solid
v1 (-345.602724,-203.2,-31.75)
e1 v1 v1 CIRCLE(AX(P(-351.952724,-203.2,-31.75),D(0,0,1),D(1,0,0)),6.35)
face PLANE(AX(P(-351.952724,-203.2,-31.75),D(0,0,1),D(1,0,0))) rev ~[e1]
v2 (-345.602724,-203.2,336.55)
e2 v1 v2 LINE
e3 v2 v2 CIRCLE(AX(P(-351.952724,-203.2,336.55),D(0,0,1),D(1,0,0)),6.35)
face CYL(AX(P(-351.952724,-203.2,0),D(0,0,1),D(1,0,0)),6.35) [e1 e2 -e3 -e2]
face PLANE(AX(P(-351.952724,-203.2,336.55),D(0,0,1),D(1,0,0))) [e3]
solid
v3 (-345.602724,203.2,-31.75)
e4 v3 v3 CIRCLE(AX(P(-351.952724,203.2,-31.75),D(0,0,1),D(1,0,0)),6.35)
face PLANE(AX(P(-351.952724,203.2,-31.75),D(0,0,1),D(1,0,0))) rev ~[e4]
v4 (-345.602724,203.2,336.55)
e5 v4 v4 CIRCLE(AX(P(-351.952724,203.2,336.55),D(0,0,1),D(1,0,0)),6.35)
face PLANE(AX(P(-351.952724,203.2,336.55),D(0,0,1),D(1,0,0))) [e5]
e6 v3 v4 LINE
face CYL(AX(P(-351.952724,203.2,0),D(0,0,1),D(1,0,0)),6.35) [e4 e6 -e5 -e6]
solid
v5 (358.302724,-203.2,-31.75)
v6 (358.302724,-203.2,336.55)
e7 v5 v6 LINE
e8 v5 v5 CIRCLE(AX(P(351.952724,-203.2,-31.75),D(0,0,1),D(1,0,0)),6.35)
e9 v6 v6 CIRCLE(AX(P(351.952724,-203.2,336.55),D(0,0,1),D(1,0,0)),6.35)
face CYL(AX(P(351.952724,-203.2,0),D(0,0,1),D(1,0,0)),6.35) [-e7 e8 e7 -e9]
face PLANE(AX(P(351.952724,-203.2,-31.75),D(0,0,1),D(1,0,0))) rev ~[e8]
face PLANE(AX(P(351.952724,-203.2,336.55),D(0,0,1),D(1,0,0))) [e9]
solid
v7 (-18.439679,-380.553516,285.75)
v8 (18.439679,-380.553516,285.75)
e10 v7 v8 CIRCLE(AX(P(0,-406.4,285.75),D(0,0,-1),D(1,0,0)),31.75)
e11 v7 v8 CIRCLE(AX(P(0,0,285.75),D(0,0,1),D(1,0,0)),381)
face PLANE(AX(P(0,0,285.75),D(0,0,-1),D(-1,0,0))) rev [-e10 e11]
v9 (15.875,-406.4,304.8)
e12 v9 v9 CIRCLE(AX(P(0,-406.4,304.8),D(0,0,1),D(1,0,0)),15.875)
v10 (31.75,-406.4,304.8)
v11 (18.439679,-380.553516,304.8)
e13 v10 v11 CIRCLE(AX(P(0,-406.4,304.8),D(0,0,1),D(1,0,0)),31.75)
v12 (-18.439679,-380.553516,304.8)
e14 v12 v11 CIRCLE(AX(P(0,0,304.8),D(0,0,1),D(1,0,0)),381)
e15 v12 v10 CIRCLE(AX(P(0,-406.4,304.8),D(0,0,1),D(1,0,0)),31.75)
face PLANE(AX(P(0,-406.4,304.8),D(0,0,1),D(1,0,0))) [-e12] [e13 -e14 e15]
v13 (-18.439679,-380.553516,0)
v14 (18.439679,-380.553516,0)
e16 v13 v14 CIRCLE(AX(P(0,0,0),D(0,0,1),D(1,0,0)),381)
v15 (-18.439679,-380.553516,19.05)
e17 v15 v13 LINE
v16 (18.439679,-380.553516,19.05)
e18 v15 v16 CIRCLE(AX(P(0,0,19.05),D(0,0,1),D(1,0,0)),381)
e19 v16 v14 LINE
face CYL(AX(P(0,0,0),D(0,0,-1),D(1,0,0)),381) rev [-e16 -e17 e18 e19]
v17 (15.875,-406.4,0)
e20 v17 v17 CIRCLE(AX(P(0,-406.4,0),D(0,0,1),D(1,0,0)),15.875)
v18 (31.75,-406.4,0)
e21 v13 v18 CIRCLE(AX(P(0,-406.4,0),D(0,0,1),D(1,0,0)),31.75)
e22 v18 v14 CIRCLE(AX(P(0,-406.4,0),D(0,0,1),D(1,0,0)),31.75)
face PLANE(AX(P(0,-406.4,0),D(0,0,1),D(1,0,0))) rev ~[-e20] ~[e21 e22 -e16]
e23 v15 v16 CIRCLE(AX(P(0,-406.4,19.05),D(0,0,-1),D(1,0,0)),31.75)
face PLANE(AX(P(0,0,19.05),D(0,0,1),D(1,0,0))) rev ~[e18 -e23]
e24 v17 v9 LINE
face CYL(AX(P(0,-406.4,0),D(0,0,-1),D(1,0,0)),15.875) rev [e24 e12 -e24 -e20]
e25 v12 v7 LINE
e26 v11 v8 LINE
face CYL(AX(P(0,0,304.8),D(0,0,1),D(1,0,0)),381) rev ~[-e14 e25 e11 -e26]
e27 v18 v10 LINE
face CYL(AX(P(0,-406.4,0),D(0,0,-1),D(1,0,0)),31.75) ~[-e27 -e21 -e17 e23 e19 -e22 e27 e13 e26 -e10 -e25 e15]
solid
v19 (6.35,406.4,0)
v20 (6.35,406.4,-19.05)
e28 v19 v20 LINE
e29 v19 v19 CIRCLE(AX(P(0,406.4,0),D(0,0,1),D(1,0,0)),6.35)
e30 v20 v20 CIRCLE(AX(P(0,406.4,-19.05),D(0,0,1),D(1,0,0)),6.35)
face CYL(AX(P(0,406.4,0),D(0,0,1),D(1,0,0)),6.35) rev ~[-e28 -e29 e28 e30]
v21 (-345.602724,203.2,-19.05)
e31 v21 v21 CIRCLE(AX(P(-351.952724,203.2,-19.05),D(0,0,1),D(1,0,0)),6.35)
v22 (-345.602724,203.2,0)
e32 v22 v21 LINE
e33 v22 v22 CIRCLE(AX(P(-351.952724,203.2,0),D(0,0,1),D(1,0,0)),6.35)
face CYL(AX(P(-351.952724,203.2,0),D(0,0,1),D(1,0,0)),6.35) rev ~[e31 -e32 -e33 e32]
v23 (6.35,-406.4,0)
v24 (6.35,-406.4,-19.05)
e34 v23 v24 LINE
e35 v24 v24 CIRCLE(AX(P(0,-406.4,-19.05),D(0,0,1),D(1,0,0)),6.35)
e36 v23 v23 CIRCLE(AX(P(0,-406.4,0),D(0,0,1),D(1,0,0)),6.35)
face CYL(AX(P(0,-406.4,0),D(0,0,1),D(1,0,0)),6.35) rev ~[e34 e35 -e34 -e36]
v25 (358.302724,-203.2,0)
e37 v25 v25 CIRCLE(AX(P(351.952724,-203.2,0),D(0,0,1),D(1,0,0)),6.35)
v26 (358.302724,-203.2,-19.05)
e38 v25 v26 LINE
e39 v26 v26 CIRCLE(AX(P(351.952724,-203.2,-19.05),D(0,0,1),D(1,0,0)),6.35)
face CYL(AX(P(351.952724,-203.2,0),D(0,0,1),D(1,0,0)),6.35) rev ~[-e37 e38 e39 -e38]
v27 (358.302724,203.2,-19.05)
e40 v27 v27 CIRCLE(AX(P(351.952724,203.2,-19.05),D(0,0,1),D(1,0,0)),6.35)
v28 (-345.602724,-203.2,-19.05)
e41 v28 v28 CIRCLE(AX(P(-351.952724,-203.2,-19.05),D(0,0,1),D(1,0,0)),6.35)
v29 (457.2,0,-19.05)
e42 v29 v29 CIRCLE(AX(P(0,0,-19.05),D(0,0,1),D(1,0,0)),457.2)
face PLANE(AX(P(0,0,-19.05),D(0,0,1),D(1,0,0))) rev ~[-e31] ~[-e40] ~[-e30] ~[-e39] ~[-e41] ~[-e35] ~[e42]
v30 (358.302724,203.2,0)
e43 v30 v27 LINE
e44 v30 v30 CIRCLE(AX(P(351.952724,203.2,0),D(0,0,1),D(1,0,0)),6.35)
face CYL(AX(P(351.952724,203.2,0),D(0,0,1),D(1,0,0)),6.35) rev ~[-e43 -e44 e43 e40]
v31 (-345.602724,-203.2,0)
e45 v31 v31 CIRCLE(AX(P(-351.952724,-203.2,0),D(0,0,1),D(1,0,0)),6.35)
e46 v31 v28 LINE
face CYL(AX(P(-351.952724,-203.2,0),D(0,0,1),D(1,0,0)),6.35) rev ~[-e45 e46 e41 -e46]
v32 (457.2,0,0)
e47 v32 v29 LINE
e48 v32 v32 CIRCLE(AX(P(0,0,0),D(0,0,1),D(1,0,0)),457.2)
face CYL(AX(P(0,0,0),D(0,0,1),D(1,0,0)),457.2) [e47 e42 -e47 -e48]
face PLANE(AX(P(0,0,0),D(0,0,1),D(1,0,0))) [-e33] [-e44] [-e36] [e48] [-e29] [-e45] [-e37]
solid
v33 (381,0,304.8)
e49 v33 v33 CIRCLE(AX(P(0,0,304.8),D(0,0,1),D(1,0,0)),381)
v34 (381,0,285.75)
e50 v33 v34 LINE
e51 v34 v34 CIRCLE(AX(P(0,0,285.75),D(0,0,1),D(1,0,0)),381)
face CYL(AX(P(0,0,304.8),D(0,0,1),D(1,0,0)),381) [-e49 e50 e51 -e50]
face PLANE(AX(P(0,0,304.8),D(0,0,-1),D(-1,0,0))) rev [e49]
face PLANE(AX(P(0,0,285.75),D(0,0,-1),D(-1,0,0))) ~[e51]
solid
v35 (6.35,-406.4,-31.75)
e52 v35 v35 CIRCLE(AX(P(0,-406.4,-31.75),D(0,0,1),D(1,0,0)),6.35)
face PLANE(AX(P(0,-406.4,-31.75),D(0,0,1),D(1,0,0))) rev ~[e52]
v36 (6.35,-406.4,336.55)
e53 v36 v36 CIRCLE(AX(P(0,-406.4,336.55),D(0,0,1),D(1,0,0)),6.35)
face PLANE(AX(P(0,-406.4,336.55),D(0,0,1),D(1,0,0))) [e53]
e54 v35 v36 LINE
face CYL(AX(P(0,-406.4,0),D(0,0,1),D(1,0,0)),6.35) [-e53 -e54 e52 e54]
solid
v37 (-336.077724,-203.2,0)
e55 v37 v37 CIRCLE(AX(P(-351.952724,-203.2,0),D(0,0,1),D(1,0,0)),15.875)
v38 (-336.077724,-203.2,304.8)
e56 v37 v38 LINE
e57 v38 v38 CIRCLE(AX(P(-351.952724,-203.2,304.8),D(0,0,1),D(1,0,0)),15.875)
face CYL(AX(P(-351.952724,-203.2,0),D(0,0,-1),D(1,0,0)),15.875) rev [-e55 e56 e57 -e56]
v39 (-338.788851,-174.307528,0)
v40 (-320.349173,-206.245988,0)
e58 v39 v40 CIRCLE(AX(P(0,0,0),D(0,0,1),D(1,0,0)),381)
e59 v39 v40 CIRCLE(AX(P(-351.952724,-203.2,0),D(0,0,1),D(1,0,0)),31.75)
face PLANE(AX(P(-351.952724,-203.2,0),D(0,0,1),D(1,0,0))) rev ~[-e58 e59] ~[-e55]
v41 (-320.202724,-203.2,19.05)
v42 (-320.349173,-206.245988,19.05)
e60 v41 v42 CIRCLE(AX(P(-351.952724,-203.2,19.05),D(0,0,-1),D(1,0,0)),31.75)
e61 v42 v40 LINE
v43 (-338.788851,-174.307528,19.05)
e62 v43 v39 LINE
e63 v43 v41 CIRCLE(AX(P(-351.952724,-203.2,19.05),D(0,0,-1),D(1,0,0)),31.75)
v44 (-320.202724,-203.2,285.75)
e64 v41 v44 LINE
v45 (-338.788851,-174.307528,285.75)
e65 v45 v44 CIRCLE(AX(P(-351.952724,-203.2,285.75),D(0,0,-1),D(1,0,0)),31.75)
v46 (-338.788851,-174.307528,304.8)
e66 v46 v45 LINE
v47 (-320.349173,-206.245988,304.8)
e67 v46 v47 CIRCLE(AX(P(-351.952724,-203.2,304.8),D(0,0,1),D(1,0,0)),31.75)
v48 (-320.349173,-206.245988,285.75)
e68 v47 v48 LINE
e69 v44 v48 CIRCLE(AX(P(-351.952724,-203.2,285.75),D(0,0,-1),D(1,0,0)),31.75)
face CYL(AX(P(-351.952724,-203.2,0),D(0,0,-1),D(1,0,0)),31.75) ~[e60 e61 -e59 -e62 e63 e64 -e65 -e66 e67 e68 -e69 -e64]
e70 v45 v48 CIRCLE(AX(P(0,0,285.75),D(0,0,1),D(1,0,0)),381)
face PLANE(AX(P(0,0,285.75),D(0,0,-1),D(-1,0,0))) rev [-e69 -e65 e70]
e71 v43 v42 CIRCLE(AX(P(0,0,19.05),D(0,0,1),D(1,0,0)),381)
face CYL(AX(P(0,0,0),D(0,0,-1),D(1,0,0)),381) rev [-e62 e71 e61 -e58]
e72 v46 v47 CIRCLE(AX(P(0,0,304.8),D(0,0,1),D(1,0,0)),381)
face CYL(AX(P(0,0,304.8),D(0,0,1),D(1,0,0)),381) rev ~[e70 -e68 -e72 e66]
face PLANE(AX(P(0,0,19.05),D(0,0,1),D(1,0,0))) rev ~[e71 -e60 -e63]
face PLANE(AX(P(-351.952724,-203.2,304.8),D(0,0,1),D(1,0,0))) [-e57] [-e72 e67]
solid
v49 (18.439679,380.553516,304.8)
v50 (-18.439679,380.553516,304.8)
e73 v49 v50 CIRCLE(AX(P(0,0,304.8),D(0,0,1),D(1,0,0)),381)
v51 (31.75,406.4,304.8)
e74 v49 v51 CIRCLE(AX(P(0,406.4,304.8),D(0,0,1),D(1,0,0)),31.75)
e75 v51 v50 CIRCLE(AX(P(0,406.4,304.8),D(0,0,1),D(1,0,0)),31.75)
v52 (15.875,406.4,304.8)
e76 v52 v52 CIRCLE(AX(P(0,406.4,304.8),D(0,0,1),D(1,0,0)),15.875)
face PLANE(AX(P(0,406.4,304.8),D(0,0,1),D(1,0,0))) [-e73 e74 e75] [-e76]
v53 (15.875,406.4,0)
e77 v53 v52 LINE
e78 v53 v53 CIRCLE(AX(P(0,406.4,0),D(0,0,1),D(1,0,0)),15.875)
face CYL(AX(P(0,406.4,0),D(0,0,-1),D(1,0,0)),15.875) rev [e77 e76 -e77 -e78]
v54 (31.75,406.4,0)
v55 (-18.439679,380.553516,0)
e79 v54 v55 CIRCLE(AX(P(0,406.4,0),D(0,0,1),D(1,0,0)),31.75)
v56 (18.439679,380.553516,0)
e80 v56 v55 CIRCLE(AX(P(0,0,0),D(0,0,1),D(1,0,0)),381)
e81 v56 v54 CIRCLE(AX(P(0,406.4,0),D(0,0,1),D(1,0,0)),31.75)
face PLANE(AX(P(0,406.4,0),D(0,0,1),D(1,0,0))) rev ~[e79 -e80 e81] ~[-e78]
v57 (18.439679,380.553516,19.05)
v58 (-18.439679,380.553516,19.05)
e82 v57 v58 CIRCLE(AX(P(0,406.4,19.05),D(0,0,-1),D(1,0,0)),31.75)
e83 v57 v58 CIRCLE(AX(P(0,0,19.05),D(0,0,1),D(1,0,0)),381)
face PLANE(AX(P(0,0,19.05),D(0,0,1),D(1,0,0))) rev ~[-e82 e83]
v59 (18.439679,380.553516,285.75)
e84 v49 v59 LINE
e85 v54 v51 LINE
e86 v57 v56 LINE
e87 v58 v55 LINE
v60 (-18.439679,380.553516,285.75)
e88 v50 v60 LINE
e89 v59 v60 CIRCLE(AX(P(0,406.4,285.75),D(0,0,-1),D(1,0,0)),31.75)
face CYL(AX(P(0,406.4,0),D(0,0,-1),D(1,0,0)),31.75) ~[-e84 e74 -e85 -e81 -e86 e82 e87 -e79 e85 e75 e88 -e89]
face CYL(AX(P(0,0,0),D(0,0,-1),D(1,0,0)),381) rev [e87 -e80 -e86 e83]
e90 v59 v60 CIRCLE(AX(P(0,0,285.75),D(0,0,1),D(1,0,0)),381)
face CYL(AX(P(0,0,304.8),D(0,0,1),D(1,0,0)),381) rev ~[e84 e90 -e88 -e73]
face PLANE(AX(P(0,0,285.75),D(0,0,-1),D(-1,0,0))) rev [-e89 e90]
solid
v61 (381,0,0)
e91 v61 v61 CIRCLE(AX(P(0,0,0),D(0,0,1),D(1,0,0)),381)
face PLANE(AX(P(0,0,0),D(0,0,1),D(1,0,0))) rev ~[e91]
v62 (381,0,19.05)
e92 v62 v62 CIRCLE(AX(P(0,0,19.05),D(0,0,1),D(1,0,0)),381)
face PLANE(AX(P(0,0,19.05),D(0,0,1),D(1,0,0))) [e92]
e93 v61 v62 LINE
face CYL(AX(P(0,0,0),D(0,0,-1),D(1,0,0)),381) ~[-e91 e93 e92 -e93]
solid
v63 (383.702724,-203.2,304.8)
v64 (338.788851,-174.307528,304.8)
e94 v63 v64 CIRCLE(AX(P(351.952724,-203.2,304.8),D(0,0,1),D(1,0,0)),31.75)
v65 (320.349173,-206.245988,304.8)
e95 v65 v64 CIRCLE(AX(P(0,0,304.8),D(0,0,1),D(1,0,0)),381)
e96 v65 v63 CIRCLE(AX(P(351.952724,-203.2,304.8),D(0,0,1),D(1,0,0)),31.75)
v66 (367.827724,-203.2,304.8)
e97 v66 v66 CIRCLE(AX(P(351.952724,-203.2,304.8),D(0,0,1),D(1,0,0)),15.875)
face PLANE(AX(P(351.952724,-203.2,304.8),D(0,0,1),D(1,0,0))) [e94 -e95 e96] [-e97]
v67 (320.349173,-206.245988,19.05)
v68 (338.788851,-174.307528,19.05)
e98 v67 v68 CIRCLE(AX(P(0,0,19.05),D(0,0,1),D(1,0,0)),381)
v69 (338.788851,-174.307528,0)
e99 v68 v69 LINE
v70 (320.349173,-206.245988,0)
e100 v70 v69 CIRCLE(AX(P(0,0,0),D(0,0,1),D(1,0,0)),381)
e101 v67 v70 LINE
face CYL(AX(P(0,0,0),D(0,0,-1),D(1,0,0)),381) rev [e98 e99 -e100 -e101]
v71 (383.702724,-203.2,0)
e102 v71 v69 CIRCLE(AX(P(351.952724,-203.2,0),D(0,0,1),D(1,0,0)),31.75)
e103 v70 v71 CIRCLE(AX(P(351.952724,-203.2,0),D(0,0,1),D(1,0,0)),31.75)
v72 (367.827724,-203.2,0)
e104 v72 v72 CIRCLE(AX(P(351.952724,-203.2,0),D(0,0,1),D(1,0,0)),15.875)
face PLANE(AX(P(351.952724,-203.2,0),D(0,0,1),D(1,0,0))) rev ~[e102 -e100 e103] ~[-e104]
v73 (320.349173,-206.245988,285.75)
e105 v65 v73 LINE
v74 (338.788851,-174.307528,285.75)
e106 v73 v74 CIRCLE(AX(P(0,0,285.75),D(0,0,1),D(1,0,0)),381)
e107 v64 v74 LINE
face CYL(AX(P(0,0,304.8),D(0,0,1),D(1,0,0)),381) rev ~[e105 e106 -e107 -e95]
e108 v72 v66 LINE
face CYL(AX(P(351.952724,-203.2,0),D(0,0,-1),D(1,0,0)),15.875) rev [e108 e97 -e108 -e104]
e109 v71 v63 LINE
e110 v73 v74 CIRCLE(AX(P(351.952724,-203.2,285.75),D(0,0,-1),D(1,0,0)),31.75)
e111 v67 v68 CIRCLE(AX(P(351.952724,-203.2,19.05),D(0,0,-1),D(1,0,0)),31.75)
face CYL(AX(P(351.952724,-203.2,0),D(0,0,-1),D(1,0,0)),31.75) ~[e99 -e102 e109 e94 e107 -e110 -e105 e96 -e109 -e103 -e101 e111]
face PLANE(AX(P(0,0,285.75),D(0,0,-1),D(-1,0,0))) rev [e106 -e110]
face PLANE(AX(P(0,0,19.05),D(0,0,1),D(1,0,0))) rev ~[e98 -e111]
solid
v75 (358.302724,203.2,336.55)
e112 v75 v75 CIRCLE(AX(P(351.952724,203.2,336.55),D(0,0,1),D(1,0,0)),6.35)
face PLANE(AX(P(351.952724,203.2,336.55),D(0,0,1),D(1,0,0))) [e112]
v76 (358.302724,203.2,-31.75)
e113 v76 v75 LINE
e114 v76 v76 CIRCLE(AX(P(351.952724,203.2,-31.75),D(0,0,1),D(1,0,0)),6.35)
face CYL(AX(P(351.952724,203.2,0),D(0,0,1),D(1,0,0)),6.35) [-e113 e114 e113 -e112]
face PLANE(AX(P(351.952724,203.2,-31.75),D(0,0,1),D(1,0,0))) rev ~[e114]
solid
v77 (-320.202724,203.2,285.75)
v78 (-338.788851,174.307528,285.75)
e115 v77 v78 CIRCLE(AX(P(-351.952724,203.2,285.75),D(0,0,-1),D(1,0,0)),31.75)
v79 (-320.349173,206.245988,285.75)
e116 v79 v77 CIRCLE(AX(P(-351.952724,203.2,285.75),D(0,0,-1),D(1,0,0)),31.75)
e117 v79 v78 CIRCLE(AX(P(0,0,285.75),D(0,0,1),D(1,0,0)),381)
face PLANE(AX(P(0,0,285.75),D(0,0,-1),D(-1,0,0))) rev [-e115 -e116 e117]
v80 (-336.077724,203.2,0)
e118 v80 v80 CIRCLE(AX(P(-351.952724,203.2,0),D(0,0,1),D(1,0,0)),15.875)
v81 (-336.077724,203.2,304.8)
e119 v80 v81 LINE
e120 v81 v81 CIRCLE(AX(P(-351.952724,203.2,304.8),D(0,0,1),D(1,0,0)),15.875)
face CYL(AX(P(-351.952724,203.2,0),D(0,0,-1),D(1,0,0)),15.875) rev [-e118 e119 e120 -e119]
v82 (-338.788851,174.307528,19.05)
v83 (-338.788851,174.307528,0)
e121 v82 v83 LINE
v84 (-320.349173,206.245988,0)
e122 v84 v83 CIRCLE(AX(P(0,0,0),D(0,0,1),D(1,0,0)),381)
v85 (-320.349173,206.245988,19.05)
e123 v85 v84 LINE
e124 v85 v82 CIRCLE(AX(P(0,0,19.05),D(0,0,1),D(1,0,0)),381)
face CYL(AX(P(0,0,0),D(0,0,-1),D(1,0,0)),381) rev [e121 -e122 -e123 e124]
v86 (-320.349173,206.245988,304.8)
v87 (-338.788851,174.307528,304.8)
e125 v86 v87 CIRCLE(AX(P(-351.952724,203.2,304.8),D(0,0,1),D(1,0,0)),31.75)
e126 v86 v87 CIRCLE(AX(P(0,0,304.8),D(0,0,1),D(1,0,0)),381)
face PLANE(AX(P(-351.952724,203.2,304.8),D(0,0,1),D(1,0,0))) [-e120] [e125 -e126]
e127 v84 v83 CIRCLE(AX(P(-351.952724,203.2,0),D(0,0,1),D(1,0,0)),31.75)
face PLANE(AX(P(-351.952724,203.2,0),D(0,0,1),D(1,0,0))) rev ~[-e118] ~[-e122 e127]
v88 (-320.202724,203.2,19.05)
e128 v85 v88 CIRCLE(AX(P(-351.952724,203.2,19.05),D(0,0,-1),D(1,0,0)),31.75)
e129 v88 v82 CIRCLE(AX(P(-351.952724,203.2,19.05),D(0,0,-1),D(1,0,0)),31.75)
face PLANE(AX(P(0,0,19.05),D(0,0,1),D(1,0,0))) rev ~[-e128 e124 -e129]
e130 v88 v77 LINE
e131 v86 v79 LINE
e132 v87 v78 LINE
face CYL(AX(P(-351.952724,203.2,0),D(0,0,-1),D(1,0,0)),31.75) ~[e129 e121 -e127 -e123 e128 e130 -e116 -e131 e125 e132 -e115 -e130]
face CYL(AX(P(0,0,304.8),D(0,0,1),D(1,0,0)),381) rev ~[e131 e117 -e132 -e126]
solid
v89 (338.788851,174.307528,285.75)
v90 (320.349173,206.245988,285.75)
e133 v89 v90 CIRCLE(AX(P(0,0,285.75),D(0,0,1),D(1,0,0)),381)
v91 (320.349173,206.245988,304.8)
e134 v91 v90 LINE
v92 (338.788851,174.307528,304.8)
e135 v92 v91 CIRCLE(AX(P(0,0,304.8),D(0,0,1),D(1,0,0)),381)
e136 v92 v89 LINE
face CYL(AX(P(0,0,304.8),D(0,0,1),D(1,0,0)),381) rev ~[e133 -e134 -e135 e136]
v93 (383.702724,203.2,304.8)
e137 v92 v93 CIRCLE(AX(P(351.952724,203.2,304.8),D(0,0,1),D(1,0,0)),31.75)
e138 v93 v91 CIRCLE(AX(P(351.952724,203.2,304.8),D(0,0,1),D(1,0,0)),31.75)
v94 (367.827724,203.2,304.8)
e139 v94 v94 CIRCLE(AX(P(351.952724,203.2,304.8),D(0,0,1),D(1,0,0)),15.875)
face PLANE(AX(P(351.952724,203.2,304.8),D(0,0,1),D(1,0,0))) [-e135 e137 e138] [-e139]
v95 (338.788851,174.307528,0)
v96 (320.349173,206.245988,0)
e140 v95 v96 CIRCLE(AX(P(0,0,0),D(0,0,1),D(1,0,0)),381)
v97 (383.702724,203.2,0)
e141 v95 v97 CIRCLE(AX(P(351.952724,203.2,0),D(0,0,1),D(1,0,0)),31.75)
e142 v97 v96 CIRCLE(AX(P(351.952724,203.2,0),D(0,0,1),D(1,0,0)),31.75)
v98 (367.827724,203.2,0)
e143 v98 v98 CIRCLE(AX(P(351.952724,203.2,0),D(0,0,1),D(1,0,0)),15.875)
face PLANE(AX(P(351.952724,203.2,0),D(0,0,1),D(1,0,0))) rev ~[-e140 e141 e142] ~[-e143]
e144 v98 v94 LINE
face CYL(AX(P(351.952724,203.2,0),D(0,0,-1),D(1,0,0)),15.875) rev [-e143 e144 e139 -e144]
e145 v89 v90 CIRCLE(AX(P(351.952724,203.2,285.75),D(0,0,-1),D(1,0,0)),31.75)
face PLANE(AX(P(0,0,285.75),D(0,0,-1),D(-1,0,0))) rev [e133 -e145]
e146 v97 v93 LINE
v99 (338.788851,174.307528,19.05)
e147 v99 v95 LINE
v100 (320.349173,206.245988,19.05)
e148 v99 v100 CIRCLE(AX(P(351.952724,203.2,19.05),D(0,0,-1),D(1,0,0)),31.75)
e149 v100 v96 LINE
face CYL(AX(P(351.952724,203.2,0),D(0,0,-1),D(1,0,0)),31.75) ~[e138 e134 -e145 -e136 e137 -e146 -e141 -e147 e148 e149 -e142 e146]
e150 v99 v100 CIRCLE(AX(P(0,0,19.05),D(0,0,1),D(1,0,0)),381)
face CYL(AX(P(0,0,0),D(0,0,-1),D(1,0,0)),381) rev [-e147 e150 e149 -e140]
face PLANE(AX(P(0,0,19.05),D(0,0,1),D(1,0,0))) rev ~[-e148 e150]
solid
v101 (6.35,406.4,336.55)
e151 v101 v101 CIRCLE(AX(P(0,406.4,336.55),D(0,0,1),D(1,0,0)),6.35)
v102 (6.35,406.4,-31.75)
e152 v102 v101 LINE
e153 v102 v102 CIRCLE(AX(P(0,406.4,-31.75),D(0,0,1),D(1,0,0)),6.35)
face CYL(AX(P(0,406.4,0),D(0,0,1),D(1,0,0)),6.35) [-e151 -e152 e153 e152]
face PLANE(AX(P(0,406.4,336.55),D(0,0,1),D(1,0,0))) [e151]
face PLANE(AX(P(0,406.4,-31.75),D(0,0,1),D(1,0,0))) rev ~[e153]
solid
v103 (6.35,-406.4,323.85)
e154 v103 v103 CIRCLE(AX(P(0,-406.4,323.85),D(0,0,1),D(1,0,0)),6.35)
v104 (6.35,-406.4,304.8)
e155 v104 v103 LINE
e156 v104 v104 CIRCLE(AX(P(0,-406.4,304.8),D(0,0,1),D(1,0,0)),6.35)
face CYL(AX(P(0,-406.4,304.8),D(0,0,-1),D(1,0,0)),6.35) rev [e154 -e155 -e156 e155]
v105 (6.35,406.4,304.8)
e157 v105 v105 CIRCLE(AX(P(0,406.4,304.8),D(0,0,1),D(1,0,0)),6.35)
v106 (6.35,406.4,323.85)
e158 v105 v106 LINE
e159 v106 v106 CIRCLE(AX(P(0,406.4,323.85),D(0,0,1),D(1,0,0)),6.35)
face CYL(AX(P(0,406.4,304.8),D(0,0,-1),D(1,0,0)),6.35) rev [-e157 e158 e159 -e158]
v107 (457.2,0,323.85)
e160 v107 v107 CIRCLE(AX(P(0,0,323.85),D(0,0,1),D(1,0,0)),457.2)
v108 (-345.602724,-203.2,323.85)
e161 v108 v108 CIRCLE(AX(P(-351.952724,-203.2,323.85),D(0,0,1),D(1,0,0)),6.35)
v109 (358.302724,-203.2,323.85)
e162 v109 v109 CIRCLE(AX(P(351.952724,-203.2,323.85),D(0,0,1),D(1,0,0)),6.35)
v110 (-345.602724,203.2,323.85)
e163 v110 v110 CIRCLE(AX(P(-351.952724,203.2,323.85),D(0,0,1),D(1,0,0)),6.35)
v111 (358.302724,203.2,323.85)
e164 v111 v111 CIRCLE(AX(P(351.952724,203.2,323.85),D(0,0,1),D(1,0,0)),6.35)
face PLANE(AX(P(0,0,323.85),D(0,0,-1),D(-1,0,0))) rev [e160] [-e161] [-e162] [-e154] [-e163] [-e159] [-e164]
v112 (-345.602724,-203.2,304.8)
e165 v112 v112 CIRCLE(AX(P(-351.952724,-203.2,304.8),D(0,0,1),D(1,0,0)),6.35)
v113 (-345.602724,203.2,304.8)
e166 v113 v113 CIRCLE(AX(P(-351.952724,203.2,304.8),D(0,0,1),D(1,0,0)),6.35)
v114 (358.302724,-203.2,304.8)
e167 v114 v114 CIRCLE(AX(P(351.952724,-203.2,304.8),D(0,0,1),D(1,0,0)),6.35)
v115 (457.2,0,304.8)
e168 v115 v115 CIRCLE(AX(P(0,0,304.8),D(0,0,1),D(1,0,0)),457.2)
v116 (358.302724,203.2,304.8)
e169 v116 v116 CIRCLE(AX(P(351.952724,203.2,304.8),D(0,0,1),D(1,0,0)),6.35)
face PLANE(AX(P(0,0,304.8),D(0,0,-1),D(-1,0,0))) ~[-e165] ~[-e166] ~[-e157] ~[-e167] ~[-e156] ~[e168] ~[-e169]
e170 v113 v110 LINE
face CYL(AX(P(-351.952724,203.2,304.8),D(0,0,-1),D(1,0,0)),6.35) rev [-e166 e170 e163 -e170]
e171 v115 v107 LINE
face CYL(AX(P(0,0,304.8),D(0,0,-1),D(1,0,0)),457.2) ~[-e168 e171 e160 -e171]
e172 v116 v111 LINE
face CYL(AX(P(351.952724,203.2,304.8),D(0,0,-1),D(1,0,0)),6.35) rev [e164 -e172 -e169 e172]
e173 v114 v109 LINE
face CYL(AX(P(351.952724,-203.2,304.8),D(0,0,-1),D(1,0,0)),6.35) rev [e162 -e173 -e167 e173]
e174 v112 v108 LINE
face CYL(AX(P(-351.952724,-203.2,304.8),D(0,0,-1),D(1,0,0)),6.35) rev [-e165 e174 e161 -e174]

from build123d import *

# Parameters (mm, degrees)
F2_R           = 457.2
F2_R_2         = 31.75
F2_R_3         = 15.875
F2_R_4         = 6.35
F3_DEPTH       = 19.05
F4_DEPTH       = 304.8
F5_R           = 381
F6_DEPTH       = 19.05
F10_DEPTH      = 336.55
F10_DEPTH_BACK = 31.75


with BuildPart() as f3:
    # F2 (on Top) → F3 (new body)
    with BuildSketch(Plane.XY):
        Circle(F2_R)
        with Locations((-351.952724098, -203.2)):
            Circle(F2_R_2, mode=Mode.SUBTRACT)
        with Locations((0, -406.4)):
            Circle(F2_R_2, mode=Mode.SUBTRACT)
        with Locations((351.952724098, -203.2)):
            Circle(F2_R_2, mode=Mode.SUBTRACT)
        with Locations((-351.952724098, 203.2)):
            Circle(F2_R_2, mode=Mode.SUBTRACT)
        with Locations((351.952724098, 203.2)):
            Circle(F2_R_2, mode=Mode.SUBTRACT)
        with Locations((0, 406.4)):
            Circle(F2_R_2, mode=Mode.SUBTRACT)
        with Locations((351.952724098, 203.2)):
            Circle(F2_R_2)
        with Locations((351.952724098, 203.2)):
            Circle(F2_R_3, mode=Mode.SUBTRACT)
        with Locations((351.952724098, 203.2)):
            Circle(F2_R_3)
        with Locations((351.952724098, 203.2)):
            Circle(F2_R_4, mode=Mode.SUBTRACT)
        with Locations((351.952724098, -203.2)):
            Circle(F2_R_2)
        with Locations((351.952724098, -203.2)):
            Circle(F2_R_3, mode=Mode.SUBTRACT)
        with Locations((351.952724098, -203.2)):
            Circle(F2_R_3)
        with Locations((351.952724098, -203.2)):
            Circle(F2_R_4, mode=Mode.SUBTRACT)
        with Locations((0, 406.4)):
            Circle(F2_R_2)
        with Locations((0, 406.4)):
            Circle(F2_R_3, mode=Mode.SUBTRACT)
        with Locations((0, 406.4)):
            Circle(F2_R_3)
        with Locations((0, 406.4)):
            Circle(F2_R_4, mode=Mode.SUBTRACT)
        with Locations((-351.952724098, 203.2)):
            Circle(F2_R_2)
        with Locations((-351.952724098, 203.2)):
            Circle(F2_R_3, mode=Mode.SUBTRACT)
        with Locations((-351.952724098, 203.2)):
            Circle(F2_R_3)
        with Locations((-351.952724098, 203.2)):
            Circle(F2_R_4, mode=Mode.SUBTRACT)
        with Locations((-351.952724098, -203.2)):
            Circle(F2_R_2)
        with Locations((-351.952724098, -203.2)):
            Circle(F2_R_3, mode=Mode.SUBTRACT)
        with Locations((-351.952724098, -203.2)):
            Circle(F2_R_3)
        with Locations((-351.952724098, -203.2)):
            Circle(F2_R_4, mode=Mode.SUBTRACT)
        with Locations((0, -406.4)):
            Circle(F2_R_2)
        with Locations((0, -406.4)):
            Circle(F2_R_3, mode=Mode.SUBTRACT)
        with Locations((0, -406.4)):
            Circle(F2_R_3)
        with Locations((0, -406.4)):
            Circle(F2_R_4, mode=Mode.SUBTRACT)
    extrude(amount=-F3_DEPTH)


with BuildPart() as f4:
    # F2 (on Top) → F4 (new body)
    with BuildSketch(Plane.XY):
        with Locations((351.952724098, -203.2)):
            Circle(F2_R_2)
        with Locations((351.952724098, -203.2)):
            Circle(F2_R_3, mode=Mode.SUBTRACT)
    extrude(amount=F4_DEPTH)


with BuildPart() as f4b:
    # F2 (on Top) → F4, piece 2 (new body)
    with BuildSketch(Plane.XY):
        with Locations((0, -406.4)):
            Circle(F2_R_2)
        with Locations((0, -406.4)):
            Circle(F2_R_3, mode=Mode.SUBTRACT)
    extrude(amount=F4_DEPTH)


with BuildPart() as f4c:
    # F2 (on Top) → F4, piece 3 (new body)
    with BuildSketch(Plane.XY):
        with Locations((-351.952724098, -203.2)):
            Circle(F2_R_2)
        with Locations((-351.952724098, -203.2)):
            Circle(F2_R_3, mode=Mode.SUBTRACT)
    extrude(amount=F4_DEPTH)


with BuildPart() as f4d:
    # F2 (on Top) → F4, piece 4 (new body)
    with BuildSketch(Plane.XY):
        with Locations((-351.952724098, 203.2)):
            Circle(F2_R_2)
        with Locations((-351.952724098, 203.2)):
            Circle(F2_R_3, mode=Mode.SUBTRACT)
    extrude(amount=F4_DEPTH)


with BuildPart() as f4e:
    # F2 (on Top) → F4, piece 5 (new body)
    with BuildSketch(Plane.XY):
        with Locations((0, 406.4)):
            Circle(F2_R_2)
        with Locations((0, 406.4)):
            Circle(F2_R_3, mode=Mode.SUBTRACT)
    extrude(amount=F4_DEPTH)


with BuildPart() as f4f:
    # F2 (on Top) → F4, piece 6 (new body)
    with BuildSketch(Plane.XY):
        with Locations((351.952724098, 203.2)):
            Circle(F2_R_2)
        with Locations((351.952724098, 203.2)):
            Circle(F2_R_3, mode=Mode.SUBTRACT)
    extrude(amount=F4_DEPTH)


with BuildPart() as f6:
    # F5 (on face) → F6 (new body)
    with BuildSketch(Plane.XY):
        Circle(F5_R)
    extrude(amount=F6_DEPTH)


with BuildPart() as f8_1:
    # F8: instance of F3
    add(f3.part.mirror(Plane.XY.offset(152.4)))


with BuildPart() as f8_2:
    # F8: instance of F6
    add(f6.part.mirror(Plane.XY.offset(152.4)))


with BuildPart() as f4c_1:
    add(f4c.part)

    # F9: cut F6, F8_2
    add(f6.part, mode=Mode.SUBTRACT)
    add(f8_2.part, mode=Mode.SUBTRACT)


with BuildPart() as f4d_1:
    add(f4d.part)

    # F9: cut F6, F8_2
    add(f6.part, mode=Mode.SUBTRACT)
    add(f8_2.part, mode=Mode.SUBTRACT)


with BuildPart() as f4e_1:
    add(f4e.part)

    # F9: cut F6, F8_2
    add(f6.part, mode=Mode.SUBTRACT)
    add(f8_2.part, mode=Mode.SUBTRACT)


with BuildPart() as f4f_1:
    add(f4f.part)

    # F9: cut F6, F8_2
    add(f6.part, mode=Mode.SUBTRACT)
    add(f8_2.part, mode=Mode.SUBTRACT)


with BuildPart() as f4_1:
    add(f4.part)

    # F9: cut F6, F8_2
    add(f6.part, mode=Mode.SUBTRACT)
    add(f8_2.part, mode=Mode.SUBTRACT)


with BuildPart() as f4b_1:
    add(f4b.part)

    # F9: cut F6, F8_2
    add(f6.part, mode=Mode.SUBTRACT)
    add(f8_2.part, mode=Mode.SUBTRACT)


with BuildPart() as f10:
    # F2 (on Top) → F10 (new body, two sides)
    with BuildSketch(Plane.XY) as f10_sk:
        with Locations((0, 406.4)):
            Circle(F2_R_4)
    extrude(amount=F10_DEPTH)
    extrude(f10_sk.sketch, amount=-F10_DEPTH_BACK)


with BuildPart() as f10b:
    # F2 (on Top) → F10, piece 2 (new body, two sides)
    with BuildSketch(Plane.XY) as f10_2_sk:
        with Locations((-351.952724098, 203.2)):
            Circle(F2_R_4)
    extrude(amount=F10_DEPTH)
    extrude(f10_2_sk.sketch, amount=-F10_DEPTH_BACK)


with BuildPart() as f10c:
    # F2 (on Top) → F10, piece 3 (new body, two sides)
    with BuildSketch(Plane.XY) as f10_3_sk:
        with Locations((-351.952724098, -203.2)):
            Circle(F2_R_4)
    extrude(amount=F10_DEPTH)
    extrude(f10_3_sk.sketch, amount=-F10_DEPTH_BACK)


with BuildPart() as f10d:
    # F2 (on Top) → F10, piece 4 (new body, two sides)
    with BuildSketch(Plane.XY) as f10_4_sk:
        with Locations((0, -406.4)):
            Circle(F2_R_4)
    extrude(amount=F10_DEPTH)
    extrude(f10_4_sk.sketch, amount=-F10_DEPTH_BACK)


with BuildPart() as f10e:
    # F2 (on Top) → F10, piece 5 (new body, two sides)
    with BuildSketch(Plane.XY) as f10_5_sk:
        with Locations((351.952724098, -203.2)):
            Circle(F2_R_4)
    extrude(amount=F10_DEPTH)
    extrude(f10_5_sk.sketch, amount=-F10_DEPTH_BACK)


with BuildPart() as f10f:
    # F2 (on Top) → F10, piece 6 (new body, two sides)
    with BuildSketch(Plane.XY) as f10_6_sk:
        with Locations((351.952724098, 203.2)):
            Circle(F2_R_4)
    extrude(amount=F10_DEPTH)
    extrude(f10_6_sk.sketch, amount=-F10_DEPTH_BACK)


solid = Compound([f3.part, f6.part, f8_1.part, f8_2.part, f4c_1.part, f4d_1.part, f4e_1.part, f4f_1.part, f4_1.part, f4b_1.part, f10.part, f10b.part, f10c.part, f10d.part, f10e.part, f10f.part])
